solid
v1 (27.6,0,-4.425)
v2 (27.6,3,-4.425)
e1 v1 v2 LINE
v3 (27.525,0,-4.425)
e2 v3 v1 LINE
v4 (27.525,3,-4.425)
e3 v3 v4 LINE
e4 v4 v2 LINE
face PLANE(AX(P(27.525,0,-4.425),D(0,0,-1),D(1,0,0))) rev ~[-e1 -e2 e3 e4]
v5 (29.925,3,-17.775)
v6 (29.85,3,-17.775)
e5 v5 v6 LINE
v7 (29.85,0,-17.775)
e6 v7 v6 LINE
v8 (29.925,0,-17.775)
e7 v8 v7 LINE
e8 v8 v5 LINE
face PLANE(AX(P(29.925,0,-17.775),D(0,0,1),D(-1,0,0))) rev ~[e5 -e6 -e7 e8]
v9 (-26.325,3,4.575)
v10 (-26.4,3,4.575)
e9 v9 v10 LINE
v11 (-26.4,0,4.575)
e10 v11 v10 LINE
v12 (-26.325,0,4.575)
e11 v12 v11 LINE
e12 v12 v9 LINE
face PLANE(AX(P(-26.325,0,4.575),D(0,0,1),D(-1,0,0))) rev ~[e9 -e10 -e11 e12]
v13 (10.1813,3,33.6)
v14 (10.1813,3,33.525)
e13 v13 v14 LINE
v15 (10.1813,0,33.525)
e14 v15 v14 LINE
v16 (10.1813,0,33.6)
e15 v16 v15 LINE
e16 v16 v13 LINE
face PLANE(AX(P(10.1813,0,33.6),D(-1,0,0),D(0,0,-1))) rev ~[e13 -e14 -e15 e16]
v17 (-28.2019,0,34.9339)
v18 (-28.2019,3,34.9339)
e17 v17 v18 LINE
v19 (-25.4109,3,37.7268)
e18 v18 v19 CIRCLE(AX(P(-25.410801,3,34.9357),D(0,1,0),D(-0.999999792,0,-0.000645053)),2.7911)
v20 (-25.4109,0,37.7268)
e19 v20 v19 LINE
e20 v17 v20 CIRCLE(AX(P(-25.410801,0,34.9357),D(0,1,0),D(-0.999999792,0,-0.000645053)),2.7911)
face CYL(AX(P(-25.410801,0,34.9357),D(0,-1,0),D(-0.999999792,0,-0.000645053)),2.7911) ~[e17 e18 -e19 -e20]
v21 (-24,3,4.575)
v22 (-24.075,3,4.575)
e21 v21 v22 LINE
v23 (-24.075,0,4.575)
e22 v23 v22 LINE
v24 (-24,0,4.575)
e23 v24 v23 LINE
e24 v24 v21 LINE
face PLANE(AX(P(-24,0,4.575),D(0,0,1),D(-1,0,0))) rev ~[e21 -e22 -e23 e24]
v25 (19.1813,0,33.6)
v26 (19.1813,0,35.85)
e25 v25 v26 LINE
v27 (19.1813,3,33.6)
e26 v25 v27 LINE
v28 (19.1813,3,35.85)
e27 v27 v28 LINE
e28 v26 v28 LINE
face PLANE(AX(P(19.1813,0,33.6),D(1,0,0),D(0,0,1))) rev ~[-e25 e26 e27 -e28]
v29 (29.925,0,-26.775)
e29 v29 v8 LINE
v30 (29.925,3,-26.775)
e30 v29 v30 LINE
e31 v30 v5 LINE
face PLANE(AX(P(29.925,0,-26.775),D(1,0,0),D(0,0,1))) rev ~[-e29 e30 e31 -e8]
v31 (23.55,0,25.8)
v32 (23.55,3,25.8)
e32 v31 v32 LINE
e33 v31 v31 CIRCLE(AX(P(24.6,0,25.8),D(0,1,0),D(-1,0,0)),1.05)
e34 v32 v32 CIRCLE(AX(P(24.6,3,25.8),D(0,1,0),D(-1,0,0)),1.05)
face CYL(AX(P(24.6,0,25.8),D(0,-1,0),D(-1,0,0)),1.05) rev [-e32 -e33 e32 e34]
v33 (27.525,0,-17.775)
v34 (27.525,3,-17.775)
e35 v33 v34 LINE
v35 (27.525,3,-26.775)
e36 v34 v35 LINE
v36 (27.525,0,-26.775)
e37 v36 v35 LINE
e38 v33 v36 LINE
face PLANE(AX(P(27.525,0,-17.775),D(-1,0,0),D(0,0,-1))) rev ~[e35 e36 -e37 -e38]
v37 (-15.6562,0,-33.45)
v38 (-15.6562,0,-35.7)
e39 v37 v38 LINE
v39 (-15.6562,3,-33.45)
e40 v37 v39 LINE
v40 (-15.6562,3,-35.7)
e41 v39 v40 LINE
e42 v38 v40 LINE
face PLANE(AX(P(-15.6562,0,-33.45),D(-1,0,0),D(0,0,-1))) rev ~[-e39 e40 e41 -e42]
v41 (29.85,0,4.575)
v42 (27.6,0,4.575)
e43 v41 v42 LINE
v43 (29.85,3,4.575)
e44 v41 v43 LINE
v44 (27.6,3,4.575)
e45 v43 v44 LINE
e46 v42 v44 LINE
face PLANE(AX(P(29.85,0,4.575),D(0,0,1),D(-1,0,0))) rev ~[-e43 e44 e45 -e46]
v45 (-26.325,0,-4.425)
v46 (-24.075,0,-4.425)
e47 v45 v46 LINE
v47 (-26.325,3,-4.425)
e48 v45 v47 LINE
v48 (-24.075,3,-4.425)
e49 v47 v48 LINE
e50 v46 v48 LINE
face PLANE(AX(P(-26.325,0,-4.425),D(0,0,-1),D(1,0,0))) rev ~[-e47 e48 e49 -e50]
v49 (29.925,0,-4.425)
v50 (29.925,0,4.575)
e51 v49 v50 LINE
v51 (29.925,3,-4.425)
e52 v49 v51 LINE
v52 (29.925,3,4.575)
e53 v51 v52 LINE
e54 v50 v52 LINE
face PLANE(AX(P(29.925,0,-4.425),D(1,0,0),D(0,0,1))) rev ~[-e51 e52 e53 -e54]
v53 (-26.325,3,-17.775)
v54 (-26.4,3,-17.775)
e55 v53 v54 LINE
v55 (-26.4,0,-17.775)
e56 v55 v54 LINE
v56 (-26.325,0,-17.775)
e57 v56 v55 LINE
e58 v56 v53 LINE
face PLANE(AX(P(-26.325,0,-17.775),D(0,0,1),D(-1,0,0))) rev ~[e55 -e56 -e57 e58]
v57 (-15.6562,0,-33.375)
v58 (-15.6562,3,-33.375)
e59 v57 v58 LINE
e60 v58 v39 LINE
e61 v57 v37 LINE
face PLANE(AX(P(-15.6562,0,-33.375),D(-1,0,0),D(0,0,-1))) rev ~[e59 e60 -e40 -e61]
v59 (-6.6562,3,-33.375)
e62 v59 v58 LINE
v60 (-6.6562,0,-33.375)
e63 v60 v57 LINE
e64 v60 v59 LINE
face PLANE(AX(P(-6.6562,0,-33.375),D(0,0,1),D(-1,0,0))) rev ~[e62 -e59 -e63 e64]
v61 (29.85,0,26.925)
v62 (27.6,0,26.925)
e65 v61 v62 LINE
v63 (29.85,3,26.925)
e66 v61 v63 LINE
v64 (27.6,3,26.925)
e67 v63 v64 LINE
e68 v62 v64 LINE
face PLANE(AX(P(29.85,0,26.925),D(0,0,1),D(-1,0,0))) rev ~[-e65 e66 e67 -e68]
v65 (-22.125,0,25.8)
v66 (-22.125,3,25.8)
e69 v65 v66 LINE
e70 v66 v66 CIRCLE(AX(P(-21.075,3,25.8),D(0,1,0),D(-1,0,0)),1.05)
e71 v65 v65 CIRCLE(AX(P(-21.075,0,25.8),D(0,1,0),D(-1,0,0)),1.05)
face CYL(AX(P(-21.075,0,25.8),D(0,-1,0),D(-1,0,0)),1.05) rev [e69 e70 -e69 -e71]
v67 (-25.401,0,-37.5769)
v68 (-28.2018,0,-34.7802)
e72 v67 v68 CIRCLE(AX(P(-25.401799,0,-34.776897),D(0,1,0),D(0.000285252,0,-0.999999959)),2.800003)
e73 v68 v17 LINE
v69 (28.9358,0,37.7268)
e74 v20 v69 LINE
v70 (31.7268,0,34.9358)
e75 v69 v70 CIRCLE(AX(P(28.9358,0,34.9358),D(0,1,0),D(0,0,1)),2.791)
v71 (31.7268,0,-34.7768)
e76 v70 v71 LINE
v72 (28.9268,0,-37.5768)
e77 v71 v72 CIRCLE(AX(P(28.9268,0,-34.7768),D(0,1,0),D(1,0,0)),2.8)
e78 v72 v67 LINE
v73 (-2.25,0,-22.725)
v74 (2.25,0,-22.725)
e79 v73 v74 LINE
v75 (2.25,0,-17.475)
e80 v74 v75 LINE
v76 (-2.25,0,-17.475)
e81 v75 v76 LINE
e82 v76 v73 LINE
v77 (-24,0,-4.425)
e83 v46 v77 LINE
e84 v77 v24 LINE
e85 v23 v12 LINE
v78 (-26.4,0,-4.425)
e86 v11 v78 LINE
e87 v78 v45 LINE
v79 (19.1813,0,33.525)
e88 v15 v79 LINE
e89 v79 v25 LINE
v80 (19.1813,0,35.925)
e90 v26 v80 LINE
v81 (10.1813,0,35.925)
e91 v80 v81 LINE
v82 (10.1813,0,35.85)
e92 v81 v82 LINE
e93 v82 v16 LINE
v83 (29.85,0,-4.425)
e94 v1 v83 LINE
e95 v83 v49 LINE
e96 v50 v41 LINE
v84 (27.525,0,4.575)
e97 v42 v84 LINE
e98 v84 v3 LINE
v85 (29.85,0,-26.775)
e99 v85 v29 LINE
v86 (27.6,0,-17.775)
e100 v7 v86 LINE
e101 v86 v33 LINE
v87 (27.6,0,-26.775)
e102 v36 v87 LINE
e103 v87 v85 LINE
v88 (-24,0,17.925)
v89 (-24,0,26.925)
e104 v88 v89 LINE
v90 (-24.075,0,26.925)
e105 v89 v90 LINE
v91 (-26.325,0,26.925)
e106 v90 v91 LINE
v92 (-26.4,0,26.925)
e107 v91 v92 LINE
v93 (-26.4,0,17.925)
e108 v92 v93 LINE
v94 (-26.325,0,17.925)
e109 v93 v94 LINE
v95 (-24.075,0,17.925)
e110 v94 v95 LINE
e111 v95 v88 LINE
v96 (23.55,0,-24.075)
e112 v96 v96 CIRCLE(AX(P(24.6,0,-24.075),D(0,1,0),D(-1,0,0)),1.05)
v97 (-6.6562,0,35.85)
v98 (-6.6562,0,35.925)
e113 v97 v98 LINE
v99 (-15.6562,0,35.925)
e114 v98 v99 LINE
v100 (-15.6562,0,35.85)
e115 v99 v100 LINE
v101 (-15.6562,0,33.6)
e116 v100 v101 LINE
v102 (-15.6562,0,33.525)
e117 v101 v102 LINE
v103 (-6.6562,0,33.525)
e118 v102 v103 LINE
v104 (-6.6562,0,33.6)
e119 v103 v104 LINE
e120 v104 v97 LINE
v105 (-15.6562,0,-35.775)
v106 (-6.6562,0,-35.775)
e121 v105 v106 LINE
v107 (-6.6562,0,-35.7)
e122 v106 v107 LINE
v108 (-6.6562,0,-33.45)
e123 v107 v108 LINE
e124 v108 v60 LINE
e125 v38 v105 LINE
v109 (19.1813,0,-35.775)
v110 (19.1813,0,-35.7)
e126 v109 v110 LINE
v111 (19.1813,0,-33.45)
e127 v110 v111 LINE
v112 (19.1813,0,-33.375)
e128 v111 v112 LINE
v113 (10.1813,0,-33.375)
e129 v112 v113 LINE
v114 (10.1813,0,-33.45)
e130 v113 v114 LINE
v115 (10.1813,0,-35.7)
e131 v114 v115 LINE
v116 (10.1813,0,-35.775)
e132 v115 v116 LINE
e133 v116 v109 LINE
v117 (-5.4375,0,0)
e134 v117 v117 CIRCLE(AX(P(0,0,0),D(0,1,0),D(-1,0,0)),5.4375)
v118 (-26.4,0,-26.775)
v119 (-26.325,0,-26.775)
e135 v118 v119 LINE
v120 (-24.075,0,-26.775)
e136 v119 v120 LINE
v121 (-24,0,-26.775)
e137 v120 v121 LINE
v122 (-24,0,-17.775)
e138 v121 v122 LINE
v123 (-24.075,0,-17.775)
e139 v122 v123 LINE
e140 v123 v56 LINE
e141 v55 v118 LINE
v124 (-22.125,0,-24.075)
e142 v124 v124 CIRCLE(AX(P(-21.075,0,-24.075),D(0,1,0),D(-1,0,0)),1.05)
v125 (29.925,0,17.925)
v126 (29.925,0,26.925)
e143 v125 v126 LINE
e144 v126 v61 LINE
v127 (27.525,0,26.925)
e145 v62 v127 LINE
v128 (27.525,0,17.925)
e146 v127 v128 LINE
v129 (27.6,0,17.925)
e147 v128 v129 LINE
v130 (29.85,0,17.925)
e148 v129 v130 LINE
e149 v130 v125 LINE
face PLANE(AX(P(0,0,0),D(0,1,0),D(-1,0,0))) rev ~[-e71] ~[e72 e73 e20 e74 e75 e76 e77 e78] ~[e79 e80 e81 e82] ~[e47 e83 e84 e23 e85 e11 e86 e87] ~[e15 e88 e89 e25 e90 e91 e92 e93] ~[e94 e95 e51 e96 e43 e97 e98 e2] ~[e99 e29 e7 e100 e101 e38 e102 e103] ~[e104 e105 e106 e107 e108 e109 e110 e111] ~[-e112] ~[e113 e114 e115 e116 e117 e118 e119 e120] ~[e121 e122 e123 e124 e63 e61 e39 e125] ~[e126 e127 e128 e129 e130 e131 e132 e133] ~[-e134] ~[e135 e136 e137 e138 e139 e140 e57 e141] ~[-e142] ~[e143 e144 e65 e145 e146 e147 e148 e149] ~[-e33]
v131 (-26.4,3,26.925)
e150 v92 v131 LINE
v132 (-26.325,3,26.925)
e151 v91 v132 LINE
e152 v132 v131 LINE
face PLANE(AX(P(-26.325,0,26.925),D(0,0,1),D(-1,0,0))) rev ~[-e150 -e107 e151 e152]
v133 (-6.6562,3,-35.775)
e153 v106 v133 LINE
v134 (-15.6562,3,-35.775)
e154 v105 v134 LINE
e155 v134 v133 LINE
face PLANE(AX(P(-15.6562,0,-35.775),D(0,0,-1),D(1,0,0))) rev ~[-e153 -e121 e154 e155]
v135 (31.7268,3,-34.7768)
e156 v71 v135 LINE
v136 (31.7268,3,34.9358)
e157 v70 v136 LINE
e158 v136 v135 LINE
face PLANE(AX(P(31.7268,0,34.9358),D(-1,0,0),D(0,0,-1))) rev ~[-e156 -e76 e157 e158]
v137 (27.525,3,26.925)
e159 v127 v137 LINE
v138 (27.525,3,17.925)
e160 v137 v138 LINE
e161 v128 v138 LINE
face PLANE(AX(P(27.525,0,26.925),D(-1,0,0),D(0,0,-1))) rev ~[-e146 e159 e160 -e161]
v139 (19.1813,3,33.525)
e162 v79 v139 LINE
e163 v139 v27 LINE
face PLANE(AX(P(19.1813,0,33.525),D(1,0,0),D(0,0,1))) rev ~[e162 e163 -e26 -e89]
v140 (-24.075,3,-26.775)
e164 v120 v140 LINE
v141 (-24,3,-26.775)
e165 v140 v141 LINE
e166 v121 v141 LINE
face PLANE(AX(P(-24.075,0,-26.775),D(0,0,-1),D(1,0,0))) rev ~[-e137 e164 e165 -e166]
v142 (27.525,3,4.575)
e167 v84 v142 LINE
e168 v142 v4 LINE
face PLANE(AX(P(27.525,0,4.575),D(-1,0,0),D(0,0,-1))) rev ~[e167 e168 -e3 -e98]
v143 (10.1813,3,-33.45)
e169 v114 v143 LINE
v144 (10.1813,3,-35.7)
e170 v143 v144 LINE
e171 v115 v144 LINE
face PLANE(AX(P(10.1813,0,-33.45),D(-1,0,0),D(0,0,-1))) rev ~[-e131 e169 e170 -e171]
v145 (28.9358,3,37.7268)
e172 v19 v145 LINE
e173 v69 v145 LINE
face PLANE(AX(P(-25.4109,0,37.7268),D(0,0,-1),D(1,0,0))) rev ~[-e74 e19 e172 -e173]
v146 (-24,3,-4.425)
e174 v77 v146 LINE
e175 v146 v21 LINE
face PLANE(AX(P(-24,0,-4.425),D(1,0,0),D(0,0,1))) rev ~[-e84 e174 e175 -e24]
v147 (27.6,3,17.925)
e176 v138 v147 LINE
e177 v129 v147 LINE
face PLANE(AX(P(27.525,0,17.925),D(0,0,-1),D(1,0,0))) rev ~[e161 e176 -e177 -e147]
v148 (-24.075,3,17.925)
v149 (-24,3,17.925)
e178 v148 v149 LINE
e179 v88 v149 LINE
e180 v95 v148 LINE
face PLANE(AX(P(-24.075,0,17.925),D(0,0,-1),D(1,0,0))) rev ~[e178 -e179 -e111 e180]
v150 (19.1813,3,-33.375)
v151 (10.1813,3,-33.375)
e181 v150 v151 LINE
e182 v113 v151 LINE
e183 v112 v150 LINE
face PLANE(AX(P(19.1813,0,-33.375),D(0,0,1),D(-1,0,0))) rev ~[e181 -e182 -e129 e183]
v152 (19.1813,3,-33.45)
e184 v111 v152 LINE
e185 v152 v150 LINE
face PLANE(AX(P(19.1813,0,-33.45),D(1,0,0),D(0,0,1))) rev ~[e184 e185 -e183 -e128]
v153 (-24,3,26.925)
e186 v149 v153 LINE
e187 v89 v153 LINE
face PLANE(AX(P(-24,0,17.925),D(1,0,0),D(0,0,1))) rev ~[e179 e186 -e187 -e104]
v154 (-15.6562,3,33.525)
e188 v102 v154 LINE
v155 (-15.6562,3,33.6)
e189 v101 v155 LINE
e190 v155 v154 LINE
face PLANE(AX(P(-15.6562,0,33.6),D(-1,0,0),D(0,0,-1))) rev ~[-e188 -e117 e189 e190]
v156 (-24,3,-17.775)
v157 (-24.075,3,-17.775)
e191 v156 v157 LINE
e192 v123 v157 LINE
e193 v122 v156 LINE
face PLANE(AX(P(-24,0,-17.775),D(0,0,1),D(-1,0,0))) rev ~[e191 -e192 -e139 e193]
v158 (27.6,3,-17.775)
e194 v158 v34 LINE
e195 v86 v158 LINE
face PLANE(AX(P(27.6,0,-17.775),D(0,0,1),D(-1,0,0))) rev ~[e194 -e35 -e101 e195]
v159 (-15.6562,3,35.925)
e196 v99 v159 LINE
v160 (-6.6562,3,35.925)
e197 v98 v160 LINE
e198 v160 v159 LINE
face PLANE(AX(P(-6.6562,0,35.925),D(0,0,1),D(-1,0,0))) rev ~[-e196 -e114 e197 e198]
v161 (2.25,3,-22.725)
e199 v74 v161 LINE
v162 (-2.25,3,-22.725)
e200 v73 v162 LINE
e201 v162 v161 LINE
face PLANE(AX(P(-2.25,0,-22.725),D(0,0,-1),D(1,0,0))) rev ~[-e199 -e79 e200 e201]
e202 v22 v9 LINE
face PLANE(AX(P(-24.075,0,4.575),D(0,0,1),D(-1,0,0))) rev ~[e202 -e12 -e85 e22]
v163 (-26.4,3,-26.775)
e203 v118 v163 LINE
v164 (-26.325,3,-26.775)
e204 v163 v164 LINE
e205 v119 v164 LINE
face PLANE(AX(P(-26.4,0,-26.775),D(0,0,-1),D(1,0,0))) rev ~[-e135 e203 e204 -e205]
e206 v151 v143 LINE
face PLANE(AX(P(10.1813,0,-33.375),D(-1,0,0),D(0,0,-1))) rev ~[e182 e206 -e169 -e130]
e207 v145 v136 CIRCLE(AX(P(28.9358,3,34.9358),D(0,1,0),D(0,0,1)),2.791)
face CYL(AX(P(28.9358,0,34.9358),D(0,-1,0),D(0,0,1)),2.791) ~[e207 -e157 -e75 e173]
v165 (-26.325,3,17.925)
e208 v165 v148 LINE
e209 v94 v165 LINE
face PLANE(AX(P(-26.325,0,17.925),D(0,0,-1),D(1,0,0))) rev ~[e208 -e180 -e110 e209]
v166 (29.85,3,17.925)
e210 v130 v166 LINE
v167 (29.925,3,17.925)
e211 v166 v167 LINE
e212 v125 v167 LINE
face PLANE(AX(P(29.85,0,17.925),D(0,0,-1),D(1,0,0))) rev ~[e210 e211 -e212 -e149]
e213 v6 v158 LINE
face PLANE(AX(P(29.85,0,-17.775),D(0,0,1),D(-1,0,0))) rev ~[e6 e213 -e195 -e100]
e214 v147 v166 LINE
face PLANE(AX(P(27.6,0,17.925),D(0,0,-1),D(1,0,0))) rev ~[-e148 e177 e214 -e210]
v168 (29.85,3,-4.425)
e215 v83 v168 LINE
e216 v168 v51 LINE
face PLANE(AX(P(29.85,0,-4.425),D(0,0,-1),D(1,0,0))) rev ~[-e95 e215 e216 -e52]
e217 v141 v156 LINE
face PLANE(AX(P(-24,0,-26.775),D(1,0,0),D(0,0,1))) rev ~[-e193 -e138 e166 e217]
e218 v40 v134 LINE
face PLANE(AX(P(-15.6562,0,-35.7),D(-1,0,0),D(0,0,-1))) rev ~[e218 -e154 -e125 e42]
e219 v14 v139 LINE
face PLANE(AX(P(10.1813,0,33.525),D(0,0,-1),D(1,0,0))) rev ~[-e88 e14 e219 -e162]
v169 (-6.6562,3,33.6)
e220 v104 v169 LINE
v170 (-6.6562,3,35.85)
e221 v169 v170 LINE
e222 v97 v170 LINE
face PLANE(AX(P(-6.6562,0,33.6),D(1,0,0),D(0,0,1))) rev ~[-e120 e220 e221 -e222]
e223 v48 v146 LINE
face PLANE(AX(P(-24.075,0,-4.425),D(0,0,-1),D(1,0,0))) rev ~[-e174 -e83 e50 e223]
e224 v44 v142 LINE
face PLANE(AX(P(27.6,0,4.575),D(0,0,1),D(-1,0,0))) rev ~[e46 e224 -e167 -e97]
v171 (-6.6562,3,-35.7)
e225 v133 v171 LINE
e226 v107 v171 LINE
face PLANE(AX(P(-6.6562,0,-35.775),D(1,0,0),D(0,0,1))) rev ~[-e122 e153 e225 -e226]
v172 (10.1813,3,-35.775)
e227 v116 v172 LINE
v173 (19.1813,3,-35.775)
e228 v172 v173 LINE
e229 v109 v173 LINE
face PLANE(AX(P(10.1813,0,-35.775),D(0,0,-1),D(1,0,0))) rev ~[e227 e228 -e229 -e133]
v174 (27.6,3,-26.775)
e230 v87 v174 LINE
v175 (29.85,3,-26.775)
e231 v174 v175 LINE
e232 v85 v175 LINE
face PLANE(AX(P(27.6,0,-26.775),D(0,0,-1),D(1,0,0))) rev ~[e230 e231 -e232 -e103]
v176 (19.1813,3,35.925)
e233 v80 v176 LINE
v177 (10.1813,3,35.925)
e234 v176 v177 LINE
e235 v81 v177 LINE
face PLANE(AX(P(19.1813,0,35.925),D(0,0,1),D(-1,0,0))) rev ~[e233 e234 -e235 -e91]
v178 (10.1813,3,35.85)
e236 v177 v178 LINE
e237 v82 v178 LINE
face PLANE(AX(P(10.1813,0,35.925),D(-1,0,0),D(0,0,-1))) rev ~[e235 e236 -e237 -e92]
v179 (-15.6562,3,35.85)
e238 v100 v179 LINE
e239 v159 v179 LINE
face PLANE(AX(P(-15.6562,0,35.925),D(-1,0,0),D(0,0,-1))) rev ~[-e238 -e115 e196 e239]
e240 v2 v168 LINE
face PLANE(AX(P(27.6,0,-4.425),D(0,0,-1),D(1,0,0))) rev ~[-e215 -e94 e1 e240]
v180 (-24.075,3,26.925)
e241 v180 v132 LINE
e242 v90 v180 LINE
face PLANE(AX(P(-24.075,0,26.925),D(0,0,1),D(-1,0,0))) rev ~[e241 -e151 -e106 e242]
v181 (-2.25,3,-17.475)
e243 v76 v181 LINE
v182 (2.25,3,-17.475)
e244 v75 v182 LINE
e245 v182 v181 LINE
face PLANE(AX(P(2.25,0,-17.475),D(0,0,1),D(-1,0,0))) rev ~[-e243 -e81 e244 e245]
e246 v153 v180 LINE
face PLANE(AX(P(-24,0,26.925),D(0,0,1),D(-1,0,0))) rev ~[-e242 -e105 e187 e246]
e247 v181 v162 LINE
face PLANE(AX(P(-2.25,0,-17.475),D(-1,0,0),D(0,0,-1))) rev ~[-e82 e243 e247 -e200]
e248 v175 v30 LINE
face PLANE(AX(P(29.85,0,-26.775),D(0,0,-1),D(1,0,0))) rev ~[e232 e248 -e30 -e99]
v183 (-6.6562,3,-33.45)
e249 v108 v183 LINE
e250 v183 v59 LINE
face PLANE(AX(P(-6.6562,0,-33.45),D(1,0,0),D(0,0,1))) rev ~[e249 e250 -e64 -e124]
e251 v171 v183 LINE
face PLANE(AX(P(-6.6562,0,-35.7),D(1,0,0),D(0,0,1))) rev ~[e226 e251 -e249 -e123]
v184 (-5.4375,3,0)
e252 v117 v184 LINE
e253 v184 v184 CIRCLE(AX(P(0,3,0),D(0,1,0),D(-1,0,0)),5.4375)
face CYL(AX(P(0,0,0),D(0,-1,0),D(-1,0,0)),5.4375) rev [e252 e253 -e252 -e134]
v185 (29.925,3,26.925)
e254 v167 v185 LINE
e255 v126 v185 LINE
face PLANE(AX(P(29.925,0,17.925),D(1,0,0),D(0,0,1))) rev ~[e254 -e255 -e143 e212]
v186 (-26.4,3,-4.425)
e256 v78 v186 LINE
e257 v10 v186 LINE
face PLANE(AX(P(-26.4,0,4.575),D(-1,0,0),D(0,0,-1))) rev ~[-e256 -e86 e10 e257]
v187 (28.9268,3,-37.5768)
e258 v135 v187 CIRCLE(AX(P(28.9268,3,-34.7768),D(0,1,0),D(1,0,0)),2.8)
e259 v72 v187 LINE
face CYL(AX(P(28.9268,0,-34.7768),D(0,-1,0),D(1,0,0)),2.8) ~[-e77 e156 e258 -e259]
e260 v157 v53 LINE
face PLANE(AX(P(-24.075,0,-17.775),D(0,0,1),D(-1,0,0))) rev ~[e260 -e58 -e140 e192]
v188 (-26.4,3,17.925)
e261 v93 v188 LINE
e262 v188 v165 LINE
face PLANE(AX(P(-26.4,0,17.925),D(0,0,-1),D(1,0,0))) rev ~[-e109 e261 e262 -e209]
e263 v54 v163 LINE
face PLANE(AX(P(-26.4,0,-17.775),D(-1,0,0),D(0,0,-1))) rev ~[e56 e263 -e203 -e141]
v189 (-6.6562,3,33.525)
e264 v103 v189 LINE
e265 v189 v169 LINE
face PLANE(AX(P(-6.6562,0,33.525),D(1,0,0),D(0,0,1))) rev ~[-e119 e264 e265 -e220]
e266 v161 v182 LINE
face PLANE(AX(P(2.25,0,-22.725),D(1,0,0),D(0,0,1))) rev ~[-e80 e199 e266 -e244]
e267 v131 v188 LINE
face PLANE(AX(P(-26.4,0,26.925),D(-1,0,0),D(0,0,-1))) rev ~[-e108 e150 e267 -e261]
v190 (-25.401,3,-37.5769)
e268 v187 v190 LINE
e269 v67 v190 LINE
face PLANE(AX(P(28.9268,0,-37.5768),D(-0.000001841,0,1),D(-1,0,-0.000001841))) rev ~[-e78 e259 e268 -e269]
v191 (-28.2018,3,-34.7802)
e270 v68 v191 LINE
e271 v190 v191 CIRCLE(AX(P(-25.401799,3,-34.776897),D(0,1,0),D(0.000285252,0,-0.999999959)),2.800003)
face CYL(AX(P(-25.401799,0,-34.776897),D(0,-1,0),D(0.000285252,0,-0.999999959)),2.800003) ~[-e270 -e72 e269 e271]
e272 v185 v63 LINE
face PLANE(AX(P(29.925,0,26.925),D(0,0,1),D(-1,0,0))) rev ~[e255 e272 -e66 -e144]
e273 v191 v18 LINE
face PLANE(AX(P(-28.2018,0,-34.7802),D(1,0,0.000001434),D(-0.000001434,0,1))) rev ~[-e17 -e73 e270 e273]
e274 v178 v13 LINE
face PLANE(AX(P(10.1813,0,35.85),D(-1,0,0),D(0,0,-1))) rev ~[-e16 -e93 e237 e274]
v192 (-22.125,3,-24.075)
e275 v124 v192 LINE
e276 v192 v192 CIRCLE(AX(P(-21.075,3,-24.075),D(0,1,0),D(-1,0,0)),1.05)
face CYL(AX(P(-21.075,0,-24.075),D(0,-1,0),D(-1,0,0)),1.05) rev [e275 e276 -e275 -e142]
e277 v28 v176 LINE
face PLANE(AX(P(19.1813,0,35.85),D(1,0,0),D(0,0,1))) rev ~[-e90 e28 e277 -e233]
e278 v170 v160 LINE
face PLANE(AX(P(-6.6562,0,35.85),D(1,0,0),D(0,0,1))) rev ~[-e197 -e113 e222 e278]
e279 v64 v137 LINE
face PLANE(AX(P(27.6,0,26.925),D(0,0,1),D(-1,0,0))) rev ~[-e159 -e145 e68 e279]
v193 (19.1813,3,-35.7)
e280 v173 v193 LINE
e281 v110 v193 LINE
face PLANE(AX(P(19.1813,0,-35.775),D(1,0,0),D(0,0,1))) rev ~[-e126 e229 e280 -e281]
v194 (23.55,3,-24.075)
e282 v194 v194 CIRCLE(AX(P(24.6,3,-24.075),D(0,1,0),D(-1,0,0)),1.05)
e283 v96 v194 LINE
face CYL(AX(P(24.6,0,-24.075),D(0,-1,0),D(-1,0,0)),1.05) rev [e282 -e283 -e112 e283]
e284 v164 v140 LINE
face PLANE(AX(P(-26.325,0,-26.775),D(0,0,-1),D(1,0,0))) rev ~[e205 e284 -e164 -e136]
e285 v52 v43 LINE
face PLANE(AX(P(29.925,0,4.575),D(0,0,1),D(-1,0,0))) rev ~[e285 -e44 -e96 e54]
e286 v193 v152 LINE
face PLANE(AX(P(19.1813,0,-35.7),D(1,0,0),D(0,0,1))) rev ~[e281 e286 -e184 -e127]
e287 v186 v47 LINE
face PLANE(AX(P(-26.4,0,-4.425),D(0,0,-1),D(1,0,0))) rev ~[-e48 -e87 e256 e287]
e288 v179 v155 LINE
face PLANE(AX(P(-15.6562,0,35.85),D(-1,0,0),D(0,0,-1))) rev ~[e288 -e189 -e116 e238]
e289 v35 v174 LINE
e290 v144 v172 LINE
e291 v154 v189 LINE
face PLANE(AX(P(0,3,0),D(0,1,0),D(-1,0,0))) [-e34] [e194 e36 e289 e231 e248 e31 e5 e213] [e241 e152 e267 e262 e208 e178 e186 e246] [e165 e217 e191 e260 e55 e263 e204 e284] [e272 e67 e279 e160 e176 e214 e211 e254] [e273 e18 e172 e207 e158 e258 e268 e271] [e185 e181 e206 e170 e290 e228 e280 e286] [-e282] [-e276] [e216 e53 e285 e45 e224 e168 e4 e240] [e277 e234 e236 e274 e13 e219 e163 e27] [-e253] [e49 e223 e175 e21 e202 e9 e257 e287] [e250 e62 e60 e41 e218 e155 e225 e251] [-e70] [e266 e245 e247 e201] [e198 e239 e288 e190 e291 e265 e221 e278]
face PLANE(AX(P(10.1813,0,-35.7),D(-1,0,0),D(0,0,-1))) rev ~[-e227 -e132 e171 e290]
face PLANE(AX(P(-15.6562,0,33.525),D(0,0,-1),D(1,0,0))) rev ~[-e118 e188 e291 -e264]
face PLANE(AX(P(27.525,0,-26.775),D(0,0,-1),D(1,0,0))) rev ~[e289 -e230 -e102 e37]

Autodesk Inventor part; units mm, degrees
ref_plane "YZ Plane" through (0, 0, 0) normal (1, 0, 0) x (0, 1, 0)
ref_plane "XZ Plane" through (0, 0, 0) normal (0, 1, 0) x (-1, 0, 0)
ref_plane "XY Plane" through (0, 0, 0) normal (0, 0, 1) x (1, 0, 0)
sketch "Boceto1" plane through (0, 0, 0) normal (0, 1, 0) x (-1, 0, 0)
  line L0 (-31.7268, 34.9358) -> (-31.7268, -34.7768)
  line L1 (-28.9268, -37.5768) -> (25.401, -37.5769)
  line L2 (28.2018, -34.7802) -> (28.2019, 34.9339)
  line L3 (25.4109, 37.7268) -> (-28.9358, 37.7268)
  line L4 (-29.925, -4.425) -> (-29.925, 4.575)
  line L5 (-29.925, 4.575) -> (-29.85, 4.575)
  line L6 (-29.85, 4.575) -> (-27.6, 4.575)
  line L7 (-27.6, 4.575) -> (-27.525, 4.575)
  line L8 (-27.525, 4.575) -> (-27.525, -4.425)
  line L9 (-27.525, -4.425) -> (-27.6, -4.425)
  line L10 (-27.6, -4.425) -> (-29.85, -4.425)
  line L11 (-29.85, -4.425) -> (-29.925, -4.425)
  line L12 (26.4, -4.425) -> (26.325, -4.425)
  line L13 (26.325, -4.425) -> (24.075, -4.425)
  line L14 (24.075, -4.425) -> (24, -4.425)
  line L15 (24, -4.425) -> (24, 4.575)
  line L16 (24, 4.575) -> (24.075, 4.575)
  line L17 (24.075, 4.575) -> (26.325, 4.575)
  line L18 (26.325, 4.575) -> (26.4, 4.575)
  line L19 (26.4, 4.575) -> (26.4, -4.425)
  line L20 (26.325, 26.925) -> (26.4, 26.925)
  line L21 (26.4, 26.925) -> (26.4, 17.925)
  line L22 (26.4, 17.925) -> (26.325, 17.925)
  line L23 (26.325, 17.925) -> (24.075, 17.925)
  line L24 (24.075, 17.925) -> (24, 17.925)
  line L25 (24, 17.925) -> (24, 26.925)
  line L26 (24, 26.925) -> (24.075, 26.925)
  line L27 (24.075, 26.925) -> (26.325, 26.925)
  line L28 (-19.1813, -35.775) -> (-19.1813, -35.7)
  line L29 (-19.1813, -35.7) -> (-19.1813, -33.45)
  line L30 (-19.1813, -33.45) -> (-19.1813, -33.375)
  line L31 (-19.1813, -33.375) -> (-10.1813, -33.375)
  line L32 (-10.1813, -33.375) -> (-10.1813, -33.45)
  line L33 (-10.1813, -33.45) -> (-10.1813, -35.7)
  line L34 (-10.1813, -35.7) -> (-10.1813, -35.775)
  line L35 (-10.1813, -35.775) -> (-19.1813, -35.775)
  line L36 (6.6562, 33.525) -> (6.6562, 33.6)
  line L37 (6.6562, 33.6) -> (6.6562, 35.85)
  line L38 (6.6562, 35.85) -> (6.6562, 35.925)
  line L39 (6.6562, 35.925) -> (15.6562, 35.925)
  line L40 (15.6562, 35.925) -> (15.6562, 35.85)
  line L41 (15.6562, 35.85) -> (15.6562, 33.6)
  line L42 (15.6562, 33.6) -> (15.6562, 33.525)
  line L43 (15.6562, 33.525) -> (6.6562, 33.525)
  line L44 (-19.1813, 33.525) -> (-19.1813, 33.6)
  line L45 (-19.1813, 33.6) -> (-19.1813, 35.85)
  line L46 (-19.1813, 35.85) -> (-19.1813, 35.925)
  line L47 (-19.1813, 35.925) -> (-10.1813, 35.925)
  line L48 (-10.1813, 35.925) -> (-10.1813, 35.85)
  line L49 (-10.1813, 35.85) -> (-10.1813, 33.6)
  line L50 (-10.1813, 33.6) -> (-10.1813, 33.525)
  line L51 (-10.1813, 33.525) -> (-19.1813, 33.525)
  line L52 (24.075, -17.775) -> (26.325, -17.775)
  line L53 (26.325, -17.775) -> (26.4, -17.775)
  line L54 (26.4, -17.775) -> (26.4, -26.775)
  line L55 (26.4, -26.775) -> (26.325, -26.775)
  line L56 (26.325, -26.775) -> (24.075, -26.775)
  line L57 (24.075, -26.775) -> (24, -26.775)
  line L58 (24, -26.775) -> (24, -17.775)
  line L59 (24, -17.775) -> (24.075, -17.775)
  line L60 (6.6562, -35.775) -> (6.6562, -35.7)
  line L61 (6.6562, -35.7) -> (6.6562, -33.45)
  line L62 (6.6562, -33.45) -> (6.6562, -33.375)
  line L63 (6.6562, -33.375) -> (15.6562, -33.375)
  line L64 (15.6562, -33.375) -> (15.6562, -33.45)
  line L65 (15.6562, -33.45) -> (15.6562, -35.7)
  line L66 (15.6562, -35.7) -> (15.6562, -35.775)
  line L67 (15.6562, -35.775) -> (6.6562, -35.775)
  line L68 (-27.6, -26.775) -> (-29.85, -26.775)
  line L69 (-29.85, -26.775) -> (-29.925, -26.775)
  line L70 (-29.925, -26.775) -> (-29.925, -17.775)
  line L71 (-29.925, -17.775) -> (-29.85, -17.775)
  line L72 (-29.85, -17.775) -> (-27.6, -17.775)
  line L73 (-27.6, -17.775) -> (-27.525, -17.775)
  line L74 (-27.525, -17.775) -> (-27.525, -26.775)
  line L75 (-27.525, -26.775) -> (-27.6, -26.775)
  line L76 (-27.525, 26.925) -> (-27.525, 17.925)
  line L77 (-27.525, 17.925) -> (-27.6, 17.925)
  line L78 (-27.6, 17.925) -> (-29.85, 17.925)
  line L79 (-29.85, 17.925) -> (-29.925, 17.925)
  line L80 (-29.925, 17.925) -> (-29.925, 26.925)
  line L81 (-29.925, 26.925) -> (-29.85, 26.925)
  line L82 (-29.85, 26.925) -> (-27.6, 26.925)
  line L83 (-27.6, 26.925) -> (-27.525, 26.925)
  line L84 (-2.25, -17.475) -> (2.25, -17.475)
  line L85 (2.25, -17.475) -> (2.25, -22.725)
  line L86 (2.25, -22.725) -> (-2.25, -22.725)
  line L87 (-2.25, -22.725) -> (-2.25, -17.475)
  circle A0 centre (-24.6, 25.8) radius 1.05
  circle A1 centre (21.075, 25.8) radius 1.05
  circle A2 centre (0, 0) radius 5.4375
  arc A3 (-31.7268, -34.7768) -> (-28.9268, -37.5768) centre (-28.9268, -34.7768) ccw
  arc A4 (-28.9358, 37.7268) -> (-31.7268, 34.9358) centre (-28.9358, 34.9358) ccw
  arc A5 (25.401, -37.5769) -> (28.2018, -34.7802) centre (25.4018, -34.7769) ccw
  arc A6 (28.2019, 34.9339) -> (25.4109, 37.7268) centre (25.4108, 34.9357) ccw
  circle A7 centre (-24.6, -24.075) radius 1.05
  circle A8 centre (21.075, -24.075) radius 1.05
  line L88 (15.6562, 35.925) -> (6.6562, 35.925)
  line L89 (6.6562, 35.925) -> (6.6562, 33.525)
  line L90 (6.6562, 33.525) -> (15.6562, 33.525)
  line L91 (15.6562, 33.525) -> (15.6562, 35.925)
  line L92 (26.4, 26.925) -> (24, 26.925)
  line L93 (24, 26.925) -> (24, 17.925)
  line L94 (24, 17.925) -> (26.4, 17.925)
  line L95 (26.4, 17.925) -> (26.4, 26.925)
  line L96 (26.4, 4.575) -> (24, 4.575)
  line L97 (24, 4.575) -> (24, -4.425)
  line L98 (24, -4.425) -> (26.4, -4.425)
  line L99 (26.4, -4.425) -> (26.4, 4.575)
  line L100 (26.4, -17.775) -> (24, -17.775)
  line L101 (24, -17.775) -> (24, -26.775)
  line L102 (24, -26.775) -> (26.4, -26.775)
  line L103 (26.4, -26.775) -> (26.4, -17.775)
  line L104 (15.6562, -33.375) -> (6.6562, -33.375)
  line L105 (6.6562, -33.375) -> (6.6562, -35.775)
  line L106 (6.6562, -35.775) -> (15.6562, -35.775)
  line L107 (15.6562, -35.775) -> (15.6562, -33.375)
  line L108 (-10.1813, -33.375) -> (-19.1813, -33.375)
  line L109 (-19.1813, -33.375) -> (-19.1813, -35.775)
  line L110 (-19.1813, -35.775) -> (-10.1813, -35.775)
  line L111 (-10.1813, -35.775) -> (-10.1813, -33.375)
  line L112 (-27.525, -26.775) -> (-29.925, -26.775)
  line L113 (-29.925, -26.775) -> (-29.925, -17.775)
  line L114 (-29.925, -17.775) -> (-27.525, -17.775)
  line L115 (-27.525, -17.775) -> (-27.525, -26.775)
  line L116 (-27.525, -4.425) -> (-29.925, -4.425)
  line L117 (-29.925, -4.425) -> (-29.925, 4.575)
  line L118 (-29.925, 4.575) -> (-27.525, 4.575)
  line L119 (-27.525, 4.575) -> (-27.525, -4.425)
  line L120 (-27.525, 17.925) -> (-29.925, 17.925)
  line L121 (-29.925, 17.925) -> (-29.925, 26.925)
  line L122 (-29.925, 26.925) -> (-27.525, 26.925)
  line L123 (-27.525, 26.925) -> (-27.525, 17.925)
  line L124 (-19.1813, 35.925) -> (-10.1813, 35.925)
  line L125 (-10.1813, 35.925) -> (-10.1813, 33.525)
  line L126 (-10.1813, 33.525) -> (-19.1813, 33.525)
  line L127 (-19.1813, 33.525) -> (-19.1813, 35.925)
  line L128 (2.25, -17.475) -> (-2.25, -17.475)
  line L129 (-2.25, -17.475) -> (-2.25, -22.725)
  line L130 (-2.25, -22.725) -> (2.25, -22.725)
  line L131 (2.25, -22.725) -> (2.25, -17.475)
extrude "Extrusión1" add sketch "Boceto1" along normal blind 3
properties part number "tapa2"
